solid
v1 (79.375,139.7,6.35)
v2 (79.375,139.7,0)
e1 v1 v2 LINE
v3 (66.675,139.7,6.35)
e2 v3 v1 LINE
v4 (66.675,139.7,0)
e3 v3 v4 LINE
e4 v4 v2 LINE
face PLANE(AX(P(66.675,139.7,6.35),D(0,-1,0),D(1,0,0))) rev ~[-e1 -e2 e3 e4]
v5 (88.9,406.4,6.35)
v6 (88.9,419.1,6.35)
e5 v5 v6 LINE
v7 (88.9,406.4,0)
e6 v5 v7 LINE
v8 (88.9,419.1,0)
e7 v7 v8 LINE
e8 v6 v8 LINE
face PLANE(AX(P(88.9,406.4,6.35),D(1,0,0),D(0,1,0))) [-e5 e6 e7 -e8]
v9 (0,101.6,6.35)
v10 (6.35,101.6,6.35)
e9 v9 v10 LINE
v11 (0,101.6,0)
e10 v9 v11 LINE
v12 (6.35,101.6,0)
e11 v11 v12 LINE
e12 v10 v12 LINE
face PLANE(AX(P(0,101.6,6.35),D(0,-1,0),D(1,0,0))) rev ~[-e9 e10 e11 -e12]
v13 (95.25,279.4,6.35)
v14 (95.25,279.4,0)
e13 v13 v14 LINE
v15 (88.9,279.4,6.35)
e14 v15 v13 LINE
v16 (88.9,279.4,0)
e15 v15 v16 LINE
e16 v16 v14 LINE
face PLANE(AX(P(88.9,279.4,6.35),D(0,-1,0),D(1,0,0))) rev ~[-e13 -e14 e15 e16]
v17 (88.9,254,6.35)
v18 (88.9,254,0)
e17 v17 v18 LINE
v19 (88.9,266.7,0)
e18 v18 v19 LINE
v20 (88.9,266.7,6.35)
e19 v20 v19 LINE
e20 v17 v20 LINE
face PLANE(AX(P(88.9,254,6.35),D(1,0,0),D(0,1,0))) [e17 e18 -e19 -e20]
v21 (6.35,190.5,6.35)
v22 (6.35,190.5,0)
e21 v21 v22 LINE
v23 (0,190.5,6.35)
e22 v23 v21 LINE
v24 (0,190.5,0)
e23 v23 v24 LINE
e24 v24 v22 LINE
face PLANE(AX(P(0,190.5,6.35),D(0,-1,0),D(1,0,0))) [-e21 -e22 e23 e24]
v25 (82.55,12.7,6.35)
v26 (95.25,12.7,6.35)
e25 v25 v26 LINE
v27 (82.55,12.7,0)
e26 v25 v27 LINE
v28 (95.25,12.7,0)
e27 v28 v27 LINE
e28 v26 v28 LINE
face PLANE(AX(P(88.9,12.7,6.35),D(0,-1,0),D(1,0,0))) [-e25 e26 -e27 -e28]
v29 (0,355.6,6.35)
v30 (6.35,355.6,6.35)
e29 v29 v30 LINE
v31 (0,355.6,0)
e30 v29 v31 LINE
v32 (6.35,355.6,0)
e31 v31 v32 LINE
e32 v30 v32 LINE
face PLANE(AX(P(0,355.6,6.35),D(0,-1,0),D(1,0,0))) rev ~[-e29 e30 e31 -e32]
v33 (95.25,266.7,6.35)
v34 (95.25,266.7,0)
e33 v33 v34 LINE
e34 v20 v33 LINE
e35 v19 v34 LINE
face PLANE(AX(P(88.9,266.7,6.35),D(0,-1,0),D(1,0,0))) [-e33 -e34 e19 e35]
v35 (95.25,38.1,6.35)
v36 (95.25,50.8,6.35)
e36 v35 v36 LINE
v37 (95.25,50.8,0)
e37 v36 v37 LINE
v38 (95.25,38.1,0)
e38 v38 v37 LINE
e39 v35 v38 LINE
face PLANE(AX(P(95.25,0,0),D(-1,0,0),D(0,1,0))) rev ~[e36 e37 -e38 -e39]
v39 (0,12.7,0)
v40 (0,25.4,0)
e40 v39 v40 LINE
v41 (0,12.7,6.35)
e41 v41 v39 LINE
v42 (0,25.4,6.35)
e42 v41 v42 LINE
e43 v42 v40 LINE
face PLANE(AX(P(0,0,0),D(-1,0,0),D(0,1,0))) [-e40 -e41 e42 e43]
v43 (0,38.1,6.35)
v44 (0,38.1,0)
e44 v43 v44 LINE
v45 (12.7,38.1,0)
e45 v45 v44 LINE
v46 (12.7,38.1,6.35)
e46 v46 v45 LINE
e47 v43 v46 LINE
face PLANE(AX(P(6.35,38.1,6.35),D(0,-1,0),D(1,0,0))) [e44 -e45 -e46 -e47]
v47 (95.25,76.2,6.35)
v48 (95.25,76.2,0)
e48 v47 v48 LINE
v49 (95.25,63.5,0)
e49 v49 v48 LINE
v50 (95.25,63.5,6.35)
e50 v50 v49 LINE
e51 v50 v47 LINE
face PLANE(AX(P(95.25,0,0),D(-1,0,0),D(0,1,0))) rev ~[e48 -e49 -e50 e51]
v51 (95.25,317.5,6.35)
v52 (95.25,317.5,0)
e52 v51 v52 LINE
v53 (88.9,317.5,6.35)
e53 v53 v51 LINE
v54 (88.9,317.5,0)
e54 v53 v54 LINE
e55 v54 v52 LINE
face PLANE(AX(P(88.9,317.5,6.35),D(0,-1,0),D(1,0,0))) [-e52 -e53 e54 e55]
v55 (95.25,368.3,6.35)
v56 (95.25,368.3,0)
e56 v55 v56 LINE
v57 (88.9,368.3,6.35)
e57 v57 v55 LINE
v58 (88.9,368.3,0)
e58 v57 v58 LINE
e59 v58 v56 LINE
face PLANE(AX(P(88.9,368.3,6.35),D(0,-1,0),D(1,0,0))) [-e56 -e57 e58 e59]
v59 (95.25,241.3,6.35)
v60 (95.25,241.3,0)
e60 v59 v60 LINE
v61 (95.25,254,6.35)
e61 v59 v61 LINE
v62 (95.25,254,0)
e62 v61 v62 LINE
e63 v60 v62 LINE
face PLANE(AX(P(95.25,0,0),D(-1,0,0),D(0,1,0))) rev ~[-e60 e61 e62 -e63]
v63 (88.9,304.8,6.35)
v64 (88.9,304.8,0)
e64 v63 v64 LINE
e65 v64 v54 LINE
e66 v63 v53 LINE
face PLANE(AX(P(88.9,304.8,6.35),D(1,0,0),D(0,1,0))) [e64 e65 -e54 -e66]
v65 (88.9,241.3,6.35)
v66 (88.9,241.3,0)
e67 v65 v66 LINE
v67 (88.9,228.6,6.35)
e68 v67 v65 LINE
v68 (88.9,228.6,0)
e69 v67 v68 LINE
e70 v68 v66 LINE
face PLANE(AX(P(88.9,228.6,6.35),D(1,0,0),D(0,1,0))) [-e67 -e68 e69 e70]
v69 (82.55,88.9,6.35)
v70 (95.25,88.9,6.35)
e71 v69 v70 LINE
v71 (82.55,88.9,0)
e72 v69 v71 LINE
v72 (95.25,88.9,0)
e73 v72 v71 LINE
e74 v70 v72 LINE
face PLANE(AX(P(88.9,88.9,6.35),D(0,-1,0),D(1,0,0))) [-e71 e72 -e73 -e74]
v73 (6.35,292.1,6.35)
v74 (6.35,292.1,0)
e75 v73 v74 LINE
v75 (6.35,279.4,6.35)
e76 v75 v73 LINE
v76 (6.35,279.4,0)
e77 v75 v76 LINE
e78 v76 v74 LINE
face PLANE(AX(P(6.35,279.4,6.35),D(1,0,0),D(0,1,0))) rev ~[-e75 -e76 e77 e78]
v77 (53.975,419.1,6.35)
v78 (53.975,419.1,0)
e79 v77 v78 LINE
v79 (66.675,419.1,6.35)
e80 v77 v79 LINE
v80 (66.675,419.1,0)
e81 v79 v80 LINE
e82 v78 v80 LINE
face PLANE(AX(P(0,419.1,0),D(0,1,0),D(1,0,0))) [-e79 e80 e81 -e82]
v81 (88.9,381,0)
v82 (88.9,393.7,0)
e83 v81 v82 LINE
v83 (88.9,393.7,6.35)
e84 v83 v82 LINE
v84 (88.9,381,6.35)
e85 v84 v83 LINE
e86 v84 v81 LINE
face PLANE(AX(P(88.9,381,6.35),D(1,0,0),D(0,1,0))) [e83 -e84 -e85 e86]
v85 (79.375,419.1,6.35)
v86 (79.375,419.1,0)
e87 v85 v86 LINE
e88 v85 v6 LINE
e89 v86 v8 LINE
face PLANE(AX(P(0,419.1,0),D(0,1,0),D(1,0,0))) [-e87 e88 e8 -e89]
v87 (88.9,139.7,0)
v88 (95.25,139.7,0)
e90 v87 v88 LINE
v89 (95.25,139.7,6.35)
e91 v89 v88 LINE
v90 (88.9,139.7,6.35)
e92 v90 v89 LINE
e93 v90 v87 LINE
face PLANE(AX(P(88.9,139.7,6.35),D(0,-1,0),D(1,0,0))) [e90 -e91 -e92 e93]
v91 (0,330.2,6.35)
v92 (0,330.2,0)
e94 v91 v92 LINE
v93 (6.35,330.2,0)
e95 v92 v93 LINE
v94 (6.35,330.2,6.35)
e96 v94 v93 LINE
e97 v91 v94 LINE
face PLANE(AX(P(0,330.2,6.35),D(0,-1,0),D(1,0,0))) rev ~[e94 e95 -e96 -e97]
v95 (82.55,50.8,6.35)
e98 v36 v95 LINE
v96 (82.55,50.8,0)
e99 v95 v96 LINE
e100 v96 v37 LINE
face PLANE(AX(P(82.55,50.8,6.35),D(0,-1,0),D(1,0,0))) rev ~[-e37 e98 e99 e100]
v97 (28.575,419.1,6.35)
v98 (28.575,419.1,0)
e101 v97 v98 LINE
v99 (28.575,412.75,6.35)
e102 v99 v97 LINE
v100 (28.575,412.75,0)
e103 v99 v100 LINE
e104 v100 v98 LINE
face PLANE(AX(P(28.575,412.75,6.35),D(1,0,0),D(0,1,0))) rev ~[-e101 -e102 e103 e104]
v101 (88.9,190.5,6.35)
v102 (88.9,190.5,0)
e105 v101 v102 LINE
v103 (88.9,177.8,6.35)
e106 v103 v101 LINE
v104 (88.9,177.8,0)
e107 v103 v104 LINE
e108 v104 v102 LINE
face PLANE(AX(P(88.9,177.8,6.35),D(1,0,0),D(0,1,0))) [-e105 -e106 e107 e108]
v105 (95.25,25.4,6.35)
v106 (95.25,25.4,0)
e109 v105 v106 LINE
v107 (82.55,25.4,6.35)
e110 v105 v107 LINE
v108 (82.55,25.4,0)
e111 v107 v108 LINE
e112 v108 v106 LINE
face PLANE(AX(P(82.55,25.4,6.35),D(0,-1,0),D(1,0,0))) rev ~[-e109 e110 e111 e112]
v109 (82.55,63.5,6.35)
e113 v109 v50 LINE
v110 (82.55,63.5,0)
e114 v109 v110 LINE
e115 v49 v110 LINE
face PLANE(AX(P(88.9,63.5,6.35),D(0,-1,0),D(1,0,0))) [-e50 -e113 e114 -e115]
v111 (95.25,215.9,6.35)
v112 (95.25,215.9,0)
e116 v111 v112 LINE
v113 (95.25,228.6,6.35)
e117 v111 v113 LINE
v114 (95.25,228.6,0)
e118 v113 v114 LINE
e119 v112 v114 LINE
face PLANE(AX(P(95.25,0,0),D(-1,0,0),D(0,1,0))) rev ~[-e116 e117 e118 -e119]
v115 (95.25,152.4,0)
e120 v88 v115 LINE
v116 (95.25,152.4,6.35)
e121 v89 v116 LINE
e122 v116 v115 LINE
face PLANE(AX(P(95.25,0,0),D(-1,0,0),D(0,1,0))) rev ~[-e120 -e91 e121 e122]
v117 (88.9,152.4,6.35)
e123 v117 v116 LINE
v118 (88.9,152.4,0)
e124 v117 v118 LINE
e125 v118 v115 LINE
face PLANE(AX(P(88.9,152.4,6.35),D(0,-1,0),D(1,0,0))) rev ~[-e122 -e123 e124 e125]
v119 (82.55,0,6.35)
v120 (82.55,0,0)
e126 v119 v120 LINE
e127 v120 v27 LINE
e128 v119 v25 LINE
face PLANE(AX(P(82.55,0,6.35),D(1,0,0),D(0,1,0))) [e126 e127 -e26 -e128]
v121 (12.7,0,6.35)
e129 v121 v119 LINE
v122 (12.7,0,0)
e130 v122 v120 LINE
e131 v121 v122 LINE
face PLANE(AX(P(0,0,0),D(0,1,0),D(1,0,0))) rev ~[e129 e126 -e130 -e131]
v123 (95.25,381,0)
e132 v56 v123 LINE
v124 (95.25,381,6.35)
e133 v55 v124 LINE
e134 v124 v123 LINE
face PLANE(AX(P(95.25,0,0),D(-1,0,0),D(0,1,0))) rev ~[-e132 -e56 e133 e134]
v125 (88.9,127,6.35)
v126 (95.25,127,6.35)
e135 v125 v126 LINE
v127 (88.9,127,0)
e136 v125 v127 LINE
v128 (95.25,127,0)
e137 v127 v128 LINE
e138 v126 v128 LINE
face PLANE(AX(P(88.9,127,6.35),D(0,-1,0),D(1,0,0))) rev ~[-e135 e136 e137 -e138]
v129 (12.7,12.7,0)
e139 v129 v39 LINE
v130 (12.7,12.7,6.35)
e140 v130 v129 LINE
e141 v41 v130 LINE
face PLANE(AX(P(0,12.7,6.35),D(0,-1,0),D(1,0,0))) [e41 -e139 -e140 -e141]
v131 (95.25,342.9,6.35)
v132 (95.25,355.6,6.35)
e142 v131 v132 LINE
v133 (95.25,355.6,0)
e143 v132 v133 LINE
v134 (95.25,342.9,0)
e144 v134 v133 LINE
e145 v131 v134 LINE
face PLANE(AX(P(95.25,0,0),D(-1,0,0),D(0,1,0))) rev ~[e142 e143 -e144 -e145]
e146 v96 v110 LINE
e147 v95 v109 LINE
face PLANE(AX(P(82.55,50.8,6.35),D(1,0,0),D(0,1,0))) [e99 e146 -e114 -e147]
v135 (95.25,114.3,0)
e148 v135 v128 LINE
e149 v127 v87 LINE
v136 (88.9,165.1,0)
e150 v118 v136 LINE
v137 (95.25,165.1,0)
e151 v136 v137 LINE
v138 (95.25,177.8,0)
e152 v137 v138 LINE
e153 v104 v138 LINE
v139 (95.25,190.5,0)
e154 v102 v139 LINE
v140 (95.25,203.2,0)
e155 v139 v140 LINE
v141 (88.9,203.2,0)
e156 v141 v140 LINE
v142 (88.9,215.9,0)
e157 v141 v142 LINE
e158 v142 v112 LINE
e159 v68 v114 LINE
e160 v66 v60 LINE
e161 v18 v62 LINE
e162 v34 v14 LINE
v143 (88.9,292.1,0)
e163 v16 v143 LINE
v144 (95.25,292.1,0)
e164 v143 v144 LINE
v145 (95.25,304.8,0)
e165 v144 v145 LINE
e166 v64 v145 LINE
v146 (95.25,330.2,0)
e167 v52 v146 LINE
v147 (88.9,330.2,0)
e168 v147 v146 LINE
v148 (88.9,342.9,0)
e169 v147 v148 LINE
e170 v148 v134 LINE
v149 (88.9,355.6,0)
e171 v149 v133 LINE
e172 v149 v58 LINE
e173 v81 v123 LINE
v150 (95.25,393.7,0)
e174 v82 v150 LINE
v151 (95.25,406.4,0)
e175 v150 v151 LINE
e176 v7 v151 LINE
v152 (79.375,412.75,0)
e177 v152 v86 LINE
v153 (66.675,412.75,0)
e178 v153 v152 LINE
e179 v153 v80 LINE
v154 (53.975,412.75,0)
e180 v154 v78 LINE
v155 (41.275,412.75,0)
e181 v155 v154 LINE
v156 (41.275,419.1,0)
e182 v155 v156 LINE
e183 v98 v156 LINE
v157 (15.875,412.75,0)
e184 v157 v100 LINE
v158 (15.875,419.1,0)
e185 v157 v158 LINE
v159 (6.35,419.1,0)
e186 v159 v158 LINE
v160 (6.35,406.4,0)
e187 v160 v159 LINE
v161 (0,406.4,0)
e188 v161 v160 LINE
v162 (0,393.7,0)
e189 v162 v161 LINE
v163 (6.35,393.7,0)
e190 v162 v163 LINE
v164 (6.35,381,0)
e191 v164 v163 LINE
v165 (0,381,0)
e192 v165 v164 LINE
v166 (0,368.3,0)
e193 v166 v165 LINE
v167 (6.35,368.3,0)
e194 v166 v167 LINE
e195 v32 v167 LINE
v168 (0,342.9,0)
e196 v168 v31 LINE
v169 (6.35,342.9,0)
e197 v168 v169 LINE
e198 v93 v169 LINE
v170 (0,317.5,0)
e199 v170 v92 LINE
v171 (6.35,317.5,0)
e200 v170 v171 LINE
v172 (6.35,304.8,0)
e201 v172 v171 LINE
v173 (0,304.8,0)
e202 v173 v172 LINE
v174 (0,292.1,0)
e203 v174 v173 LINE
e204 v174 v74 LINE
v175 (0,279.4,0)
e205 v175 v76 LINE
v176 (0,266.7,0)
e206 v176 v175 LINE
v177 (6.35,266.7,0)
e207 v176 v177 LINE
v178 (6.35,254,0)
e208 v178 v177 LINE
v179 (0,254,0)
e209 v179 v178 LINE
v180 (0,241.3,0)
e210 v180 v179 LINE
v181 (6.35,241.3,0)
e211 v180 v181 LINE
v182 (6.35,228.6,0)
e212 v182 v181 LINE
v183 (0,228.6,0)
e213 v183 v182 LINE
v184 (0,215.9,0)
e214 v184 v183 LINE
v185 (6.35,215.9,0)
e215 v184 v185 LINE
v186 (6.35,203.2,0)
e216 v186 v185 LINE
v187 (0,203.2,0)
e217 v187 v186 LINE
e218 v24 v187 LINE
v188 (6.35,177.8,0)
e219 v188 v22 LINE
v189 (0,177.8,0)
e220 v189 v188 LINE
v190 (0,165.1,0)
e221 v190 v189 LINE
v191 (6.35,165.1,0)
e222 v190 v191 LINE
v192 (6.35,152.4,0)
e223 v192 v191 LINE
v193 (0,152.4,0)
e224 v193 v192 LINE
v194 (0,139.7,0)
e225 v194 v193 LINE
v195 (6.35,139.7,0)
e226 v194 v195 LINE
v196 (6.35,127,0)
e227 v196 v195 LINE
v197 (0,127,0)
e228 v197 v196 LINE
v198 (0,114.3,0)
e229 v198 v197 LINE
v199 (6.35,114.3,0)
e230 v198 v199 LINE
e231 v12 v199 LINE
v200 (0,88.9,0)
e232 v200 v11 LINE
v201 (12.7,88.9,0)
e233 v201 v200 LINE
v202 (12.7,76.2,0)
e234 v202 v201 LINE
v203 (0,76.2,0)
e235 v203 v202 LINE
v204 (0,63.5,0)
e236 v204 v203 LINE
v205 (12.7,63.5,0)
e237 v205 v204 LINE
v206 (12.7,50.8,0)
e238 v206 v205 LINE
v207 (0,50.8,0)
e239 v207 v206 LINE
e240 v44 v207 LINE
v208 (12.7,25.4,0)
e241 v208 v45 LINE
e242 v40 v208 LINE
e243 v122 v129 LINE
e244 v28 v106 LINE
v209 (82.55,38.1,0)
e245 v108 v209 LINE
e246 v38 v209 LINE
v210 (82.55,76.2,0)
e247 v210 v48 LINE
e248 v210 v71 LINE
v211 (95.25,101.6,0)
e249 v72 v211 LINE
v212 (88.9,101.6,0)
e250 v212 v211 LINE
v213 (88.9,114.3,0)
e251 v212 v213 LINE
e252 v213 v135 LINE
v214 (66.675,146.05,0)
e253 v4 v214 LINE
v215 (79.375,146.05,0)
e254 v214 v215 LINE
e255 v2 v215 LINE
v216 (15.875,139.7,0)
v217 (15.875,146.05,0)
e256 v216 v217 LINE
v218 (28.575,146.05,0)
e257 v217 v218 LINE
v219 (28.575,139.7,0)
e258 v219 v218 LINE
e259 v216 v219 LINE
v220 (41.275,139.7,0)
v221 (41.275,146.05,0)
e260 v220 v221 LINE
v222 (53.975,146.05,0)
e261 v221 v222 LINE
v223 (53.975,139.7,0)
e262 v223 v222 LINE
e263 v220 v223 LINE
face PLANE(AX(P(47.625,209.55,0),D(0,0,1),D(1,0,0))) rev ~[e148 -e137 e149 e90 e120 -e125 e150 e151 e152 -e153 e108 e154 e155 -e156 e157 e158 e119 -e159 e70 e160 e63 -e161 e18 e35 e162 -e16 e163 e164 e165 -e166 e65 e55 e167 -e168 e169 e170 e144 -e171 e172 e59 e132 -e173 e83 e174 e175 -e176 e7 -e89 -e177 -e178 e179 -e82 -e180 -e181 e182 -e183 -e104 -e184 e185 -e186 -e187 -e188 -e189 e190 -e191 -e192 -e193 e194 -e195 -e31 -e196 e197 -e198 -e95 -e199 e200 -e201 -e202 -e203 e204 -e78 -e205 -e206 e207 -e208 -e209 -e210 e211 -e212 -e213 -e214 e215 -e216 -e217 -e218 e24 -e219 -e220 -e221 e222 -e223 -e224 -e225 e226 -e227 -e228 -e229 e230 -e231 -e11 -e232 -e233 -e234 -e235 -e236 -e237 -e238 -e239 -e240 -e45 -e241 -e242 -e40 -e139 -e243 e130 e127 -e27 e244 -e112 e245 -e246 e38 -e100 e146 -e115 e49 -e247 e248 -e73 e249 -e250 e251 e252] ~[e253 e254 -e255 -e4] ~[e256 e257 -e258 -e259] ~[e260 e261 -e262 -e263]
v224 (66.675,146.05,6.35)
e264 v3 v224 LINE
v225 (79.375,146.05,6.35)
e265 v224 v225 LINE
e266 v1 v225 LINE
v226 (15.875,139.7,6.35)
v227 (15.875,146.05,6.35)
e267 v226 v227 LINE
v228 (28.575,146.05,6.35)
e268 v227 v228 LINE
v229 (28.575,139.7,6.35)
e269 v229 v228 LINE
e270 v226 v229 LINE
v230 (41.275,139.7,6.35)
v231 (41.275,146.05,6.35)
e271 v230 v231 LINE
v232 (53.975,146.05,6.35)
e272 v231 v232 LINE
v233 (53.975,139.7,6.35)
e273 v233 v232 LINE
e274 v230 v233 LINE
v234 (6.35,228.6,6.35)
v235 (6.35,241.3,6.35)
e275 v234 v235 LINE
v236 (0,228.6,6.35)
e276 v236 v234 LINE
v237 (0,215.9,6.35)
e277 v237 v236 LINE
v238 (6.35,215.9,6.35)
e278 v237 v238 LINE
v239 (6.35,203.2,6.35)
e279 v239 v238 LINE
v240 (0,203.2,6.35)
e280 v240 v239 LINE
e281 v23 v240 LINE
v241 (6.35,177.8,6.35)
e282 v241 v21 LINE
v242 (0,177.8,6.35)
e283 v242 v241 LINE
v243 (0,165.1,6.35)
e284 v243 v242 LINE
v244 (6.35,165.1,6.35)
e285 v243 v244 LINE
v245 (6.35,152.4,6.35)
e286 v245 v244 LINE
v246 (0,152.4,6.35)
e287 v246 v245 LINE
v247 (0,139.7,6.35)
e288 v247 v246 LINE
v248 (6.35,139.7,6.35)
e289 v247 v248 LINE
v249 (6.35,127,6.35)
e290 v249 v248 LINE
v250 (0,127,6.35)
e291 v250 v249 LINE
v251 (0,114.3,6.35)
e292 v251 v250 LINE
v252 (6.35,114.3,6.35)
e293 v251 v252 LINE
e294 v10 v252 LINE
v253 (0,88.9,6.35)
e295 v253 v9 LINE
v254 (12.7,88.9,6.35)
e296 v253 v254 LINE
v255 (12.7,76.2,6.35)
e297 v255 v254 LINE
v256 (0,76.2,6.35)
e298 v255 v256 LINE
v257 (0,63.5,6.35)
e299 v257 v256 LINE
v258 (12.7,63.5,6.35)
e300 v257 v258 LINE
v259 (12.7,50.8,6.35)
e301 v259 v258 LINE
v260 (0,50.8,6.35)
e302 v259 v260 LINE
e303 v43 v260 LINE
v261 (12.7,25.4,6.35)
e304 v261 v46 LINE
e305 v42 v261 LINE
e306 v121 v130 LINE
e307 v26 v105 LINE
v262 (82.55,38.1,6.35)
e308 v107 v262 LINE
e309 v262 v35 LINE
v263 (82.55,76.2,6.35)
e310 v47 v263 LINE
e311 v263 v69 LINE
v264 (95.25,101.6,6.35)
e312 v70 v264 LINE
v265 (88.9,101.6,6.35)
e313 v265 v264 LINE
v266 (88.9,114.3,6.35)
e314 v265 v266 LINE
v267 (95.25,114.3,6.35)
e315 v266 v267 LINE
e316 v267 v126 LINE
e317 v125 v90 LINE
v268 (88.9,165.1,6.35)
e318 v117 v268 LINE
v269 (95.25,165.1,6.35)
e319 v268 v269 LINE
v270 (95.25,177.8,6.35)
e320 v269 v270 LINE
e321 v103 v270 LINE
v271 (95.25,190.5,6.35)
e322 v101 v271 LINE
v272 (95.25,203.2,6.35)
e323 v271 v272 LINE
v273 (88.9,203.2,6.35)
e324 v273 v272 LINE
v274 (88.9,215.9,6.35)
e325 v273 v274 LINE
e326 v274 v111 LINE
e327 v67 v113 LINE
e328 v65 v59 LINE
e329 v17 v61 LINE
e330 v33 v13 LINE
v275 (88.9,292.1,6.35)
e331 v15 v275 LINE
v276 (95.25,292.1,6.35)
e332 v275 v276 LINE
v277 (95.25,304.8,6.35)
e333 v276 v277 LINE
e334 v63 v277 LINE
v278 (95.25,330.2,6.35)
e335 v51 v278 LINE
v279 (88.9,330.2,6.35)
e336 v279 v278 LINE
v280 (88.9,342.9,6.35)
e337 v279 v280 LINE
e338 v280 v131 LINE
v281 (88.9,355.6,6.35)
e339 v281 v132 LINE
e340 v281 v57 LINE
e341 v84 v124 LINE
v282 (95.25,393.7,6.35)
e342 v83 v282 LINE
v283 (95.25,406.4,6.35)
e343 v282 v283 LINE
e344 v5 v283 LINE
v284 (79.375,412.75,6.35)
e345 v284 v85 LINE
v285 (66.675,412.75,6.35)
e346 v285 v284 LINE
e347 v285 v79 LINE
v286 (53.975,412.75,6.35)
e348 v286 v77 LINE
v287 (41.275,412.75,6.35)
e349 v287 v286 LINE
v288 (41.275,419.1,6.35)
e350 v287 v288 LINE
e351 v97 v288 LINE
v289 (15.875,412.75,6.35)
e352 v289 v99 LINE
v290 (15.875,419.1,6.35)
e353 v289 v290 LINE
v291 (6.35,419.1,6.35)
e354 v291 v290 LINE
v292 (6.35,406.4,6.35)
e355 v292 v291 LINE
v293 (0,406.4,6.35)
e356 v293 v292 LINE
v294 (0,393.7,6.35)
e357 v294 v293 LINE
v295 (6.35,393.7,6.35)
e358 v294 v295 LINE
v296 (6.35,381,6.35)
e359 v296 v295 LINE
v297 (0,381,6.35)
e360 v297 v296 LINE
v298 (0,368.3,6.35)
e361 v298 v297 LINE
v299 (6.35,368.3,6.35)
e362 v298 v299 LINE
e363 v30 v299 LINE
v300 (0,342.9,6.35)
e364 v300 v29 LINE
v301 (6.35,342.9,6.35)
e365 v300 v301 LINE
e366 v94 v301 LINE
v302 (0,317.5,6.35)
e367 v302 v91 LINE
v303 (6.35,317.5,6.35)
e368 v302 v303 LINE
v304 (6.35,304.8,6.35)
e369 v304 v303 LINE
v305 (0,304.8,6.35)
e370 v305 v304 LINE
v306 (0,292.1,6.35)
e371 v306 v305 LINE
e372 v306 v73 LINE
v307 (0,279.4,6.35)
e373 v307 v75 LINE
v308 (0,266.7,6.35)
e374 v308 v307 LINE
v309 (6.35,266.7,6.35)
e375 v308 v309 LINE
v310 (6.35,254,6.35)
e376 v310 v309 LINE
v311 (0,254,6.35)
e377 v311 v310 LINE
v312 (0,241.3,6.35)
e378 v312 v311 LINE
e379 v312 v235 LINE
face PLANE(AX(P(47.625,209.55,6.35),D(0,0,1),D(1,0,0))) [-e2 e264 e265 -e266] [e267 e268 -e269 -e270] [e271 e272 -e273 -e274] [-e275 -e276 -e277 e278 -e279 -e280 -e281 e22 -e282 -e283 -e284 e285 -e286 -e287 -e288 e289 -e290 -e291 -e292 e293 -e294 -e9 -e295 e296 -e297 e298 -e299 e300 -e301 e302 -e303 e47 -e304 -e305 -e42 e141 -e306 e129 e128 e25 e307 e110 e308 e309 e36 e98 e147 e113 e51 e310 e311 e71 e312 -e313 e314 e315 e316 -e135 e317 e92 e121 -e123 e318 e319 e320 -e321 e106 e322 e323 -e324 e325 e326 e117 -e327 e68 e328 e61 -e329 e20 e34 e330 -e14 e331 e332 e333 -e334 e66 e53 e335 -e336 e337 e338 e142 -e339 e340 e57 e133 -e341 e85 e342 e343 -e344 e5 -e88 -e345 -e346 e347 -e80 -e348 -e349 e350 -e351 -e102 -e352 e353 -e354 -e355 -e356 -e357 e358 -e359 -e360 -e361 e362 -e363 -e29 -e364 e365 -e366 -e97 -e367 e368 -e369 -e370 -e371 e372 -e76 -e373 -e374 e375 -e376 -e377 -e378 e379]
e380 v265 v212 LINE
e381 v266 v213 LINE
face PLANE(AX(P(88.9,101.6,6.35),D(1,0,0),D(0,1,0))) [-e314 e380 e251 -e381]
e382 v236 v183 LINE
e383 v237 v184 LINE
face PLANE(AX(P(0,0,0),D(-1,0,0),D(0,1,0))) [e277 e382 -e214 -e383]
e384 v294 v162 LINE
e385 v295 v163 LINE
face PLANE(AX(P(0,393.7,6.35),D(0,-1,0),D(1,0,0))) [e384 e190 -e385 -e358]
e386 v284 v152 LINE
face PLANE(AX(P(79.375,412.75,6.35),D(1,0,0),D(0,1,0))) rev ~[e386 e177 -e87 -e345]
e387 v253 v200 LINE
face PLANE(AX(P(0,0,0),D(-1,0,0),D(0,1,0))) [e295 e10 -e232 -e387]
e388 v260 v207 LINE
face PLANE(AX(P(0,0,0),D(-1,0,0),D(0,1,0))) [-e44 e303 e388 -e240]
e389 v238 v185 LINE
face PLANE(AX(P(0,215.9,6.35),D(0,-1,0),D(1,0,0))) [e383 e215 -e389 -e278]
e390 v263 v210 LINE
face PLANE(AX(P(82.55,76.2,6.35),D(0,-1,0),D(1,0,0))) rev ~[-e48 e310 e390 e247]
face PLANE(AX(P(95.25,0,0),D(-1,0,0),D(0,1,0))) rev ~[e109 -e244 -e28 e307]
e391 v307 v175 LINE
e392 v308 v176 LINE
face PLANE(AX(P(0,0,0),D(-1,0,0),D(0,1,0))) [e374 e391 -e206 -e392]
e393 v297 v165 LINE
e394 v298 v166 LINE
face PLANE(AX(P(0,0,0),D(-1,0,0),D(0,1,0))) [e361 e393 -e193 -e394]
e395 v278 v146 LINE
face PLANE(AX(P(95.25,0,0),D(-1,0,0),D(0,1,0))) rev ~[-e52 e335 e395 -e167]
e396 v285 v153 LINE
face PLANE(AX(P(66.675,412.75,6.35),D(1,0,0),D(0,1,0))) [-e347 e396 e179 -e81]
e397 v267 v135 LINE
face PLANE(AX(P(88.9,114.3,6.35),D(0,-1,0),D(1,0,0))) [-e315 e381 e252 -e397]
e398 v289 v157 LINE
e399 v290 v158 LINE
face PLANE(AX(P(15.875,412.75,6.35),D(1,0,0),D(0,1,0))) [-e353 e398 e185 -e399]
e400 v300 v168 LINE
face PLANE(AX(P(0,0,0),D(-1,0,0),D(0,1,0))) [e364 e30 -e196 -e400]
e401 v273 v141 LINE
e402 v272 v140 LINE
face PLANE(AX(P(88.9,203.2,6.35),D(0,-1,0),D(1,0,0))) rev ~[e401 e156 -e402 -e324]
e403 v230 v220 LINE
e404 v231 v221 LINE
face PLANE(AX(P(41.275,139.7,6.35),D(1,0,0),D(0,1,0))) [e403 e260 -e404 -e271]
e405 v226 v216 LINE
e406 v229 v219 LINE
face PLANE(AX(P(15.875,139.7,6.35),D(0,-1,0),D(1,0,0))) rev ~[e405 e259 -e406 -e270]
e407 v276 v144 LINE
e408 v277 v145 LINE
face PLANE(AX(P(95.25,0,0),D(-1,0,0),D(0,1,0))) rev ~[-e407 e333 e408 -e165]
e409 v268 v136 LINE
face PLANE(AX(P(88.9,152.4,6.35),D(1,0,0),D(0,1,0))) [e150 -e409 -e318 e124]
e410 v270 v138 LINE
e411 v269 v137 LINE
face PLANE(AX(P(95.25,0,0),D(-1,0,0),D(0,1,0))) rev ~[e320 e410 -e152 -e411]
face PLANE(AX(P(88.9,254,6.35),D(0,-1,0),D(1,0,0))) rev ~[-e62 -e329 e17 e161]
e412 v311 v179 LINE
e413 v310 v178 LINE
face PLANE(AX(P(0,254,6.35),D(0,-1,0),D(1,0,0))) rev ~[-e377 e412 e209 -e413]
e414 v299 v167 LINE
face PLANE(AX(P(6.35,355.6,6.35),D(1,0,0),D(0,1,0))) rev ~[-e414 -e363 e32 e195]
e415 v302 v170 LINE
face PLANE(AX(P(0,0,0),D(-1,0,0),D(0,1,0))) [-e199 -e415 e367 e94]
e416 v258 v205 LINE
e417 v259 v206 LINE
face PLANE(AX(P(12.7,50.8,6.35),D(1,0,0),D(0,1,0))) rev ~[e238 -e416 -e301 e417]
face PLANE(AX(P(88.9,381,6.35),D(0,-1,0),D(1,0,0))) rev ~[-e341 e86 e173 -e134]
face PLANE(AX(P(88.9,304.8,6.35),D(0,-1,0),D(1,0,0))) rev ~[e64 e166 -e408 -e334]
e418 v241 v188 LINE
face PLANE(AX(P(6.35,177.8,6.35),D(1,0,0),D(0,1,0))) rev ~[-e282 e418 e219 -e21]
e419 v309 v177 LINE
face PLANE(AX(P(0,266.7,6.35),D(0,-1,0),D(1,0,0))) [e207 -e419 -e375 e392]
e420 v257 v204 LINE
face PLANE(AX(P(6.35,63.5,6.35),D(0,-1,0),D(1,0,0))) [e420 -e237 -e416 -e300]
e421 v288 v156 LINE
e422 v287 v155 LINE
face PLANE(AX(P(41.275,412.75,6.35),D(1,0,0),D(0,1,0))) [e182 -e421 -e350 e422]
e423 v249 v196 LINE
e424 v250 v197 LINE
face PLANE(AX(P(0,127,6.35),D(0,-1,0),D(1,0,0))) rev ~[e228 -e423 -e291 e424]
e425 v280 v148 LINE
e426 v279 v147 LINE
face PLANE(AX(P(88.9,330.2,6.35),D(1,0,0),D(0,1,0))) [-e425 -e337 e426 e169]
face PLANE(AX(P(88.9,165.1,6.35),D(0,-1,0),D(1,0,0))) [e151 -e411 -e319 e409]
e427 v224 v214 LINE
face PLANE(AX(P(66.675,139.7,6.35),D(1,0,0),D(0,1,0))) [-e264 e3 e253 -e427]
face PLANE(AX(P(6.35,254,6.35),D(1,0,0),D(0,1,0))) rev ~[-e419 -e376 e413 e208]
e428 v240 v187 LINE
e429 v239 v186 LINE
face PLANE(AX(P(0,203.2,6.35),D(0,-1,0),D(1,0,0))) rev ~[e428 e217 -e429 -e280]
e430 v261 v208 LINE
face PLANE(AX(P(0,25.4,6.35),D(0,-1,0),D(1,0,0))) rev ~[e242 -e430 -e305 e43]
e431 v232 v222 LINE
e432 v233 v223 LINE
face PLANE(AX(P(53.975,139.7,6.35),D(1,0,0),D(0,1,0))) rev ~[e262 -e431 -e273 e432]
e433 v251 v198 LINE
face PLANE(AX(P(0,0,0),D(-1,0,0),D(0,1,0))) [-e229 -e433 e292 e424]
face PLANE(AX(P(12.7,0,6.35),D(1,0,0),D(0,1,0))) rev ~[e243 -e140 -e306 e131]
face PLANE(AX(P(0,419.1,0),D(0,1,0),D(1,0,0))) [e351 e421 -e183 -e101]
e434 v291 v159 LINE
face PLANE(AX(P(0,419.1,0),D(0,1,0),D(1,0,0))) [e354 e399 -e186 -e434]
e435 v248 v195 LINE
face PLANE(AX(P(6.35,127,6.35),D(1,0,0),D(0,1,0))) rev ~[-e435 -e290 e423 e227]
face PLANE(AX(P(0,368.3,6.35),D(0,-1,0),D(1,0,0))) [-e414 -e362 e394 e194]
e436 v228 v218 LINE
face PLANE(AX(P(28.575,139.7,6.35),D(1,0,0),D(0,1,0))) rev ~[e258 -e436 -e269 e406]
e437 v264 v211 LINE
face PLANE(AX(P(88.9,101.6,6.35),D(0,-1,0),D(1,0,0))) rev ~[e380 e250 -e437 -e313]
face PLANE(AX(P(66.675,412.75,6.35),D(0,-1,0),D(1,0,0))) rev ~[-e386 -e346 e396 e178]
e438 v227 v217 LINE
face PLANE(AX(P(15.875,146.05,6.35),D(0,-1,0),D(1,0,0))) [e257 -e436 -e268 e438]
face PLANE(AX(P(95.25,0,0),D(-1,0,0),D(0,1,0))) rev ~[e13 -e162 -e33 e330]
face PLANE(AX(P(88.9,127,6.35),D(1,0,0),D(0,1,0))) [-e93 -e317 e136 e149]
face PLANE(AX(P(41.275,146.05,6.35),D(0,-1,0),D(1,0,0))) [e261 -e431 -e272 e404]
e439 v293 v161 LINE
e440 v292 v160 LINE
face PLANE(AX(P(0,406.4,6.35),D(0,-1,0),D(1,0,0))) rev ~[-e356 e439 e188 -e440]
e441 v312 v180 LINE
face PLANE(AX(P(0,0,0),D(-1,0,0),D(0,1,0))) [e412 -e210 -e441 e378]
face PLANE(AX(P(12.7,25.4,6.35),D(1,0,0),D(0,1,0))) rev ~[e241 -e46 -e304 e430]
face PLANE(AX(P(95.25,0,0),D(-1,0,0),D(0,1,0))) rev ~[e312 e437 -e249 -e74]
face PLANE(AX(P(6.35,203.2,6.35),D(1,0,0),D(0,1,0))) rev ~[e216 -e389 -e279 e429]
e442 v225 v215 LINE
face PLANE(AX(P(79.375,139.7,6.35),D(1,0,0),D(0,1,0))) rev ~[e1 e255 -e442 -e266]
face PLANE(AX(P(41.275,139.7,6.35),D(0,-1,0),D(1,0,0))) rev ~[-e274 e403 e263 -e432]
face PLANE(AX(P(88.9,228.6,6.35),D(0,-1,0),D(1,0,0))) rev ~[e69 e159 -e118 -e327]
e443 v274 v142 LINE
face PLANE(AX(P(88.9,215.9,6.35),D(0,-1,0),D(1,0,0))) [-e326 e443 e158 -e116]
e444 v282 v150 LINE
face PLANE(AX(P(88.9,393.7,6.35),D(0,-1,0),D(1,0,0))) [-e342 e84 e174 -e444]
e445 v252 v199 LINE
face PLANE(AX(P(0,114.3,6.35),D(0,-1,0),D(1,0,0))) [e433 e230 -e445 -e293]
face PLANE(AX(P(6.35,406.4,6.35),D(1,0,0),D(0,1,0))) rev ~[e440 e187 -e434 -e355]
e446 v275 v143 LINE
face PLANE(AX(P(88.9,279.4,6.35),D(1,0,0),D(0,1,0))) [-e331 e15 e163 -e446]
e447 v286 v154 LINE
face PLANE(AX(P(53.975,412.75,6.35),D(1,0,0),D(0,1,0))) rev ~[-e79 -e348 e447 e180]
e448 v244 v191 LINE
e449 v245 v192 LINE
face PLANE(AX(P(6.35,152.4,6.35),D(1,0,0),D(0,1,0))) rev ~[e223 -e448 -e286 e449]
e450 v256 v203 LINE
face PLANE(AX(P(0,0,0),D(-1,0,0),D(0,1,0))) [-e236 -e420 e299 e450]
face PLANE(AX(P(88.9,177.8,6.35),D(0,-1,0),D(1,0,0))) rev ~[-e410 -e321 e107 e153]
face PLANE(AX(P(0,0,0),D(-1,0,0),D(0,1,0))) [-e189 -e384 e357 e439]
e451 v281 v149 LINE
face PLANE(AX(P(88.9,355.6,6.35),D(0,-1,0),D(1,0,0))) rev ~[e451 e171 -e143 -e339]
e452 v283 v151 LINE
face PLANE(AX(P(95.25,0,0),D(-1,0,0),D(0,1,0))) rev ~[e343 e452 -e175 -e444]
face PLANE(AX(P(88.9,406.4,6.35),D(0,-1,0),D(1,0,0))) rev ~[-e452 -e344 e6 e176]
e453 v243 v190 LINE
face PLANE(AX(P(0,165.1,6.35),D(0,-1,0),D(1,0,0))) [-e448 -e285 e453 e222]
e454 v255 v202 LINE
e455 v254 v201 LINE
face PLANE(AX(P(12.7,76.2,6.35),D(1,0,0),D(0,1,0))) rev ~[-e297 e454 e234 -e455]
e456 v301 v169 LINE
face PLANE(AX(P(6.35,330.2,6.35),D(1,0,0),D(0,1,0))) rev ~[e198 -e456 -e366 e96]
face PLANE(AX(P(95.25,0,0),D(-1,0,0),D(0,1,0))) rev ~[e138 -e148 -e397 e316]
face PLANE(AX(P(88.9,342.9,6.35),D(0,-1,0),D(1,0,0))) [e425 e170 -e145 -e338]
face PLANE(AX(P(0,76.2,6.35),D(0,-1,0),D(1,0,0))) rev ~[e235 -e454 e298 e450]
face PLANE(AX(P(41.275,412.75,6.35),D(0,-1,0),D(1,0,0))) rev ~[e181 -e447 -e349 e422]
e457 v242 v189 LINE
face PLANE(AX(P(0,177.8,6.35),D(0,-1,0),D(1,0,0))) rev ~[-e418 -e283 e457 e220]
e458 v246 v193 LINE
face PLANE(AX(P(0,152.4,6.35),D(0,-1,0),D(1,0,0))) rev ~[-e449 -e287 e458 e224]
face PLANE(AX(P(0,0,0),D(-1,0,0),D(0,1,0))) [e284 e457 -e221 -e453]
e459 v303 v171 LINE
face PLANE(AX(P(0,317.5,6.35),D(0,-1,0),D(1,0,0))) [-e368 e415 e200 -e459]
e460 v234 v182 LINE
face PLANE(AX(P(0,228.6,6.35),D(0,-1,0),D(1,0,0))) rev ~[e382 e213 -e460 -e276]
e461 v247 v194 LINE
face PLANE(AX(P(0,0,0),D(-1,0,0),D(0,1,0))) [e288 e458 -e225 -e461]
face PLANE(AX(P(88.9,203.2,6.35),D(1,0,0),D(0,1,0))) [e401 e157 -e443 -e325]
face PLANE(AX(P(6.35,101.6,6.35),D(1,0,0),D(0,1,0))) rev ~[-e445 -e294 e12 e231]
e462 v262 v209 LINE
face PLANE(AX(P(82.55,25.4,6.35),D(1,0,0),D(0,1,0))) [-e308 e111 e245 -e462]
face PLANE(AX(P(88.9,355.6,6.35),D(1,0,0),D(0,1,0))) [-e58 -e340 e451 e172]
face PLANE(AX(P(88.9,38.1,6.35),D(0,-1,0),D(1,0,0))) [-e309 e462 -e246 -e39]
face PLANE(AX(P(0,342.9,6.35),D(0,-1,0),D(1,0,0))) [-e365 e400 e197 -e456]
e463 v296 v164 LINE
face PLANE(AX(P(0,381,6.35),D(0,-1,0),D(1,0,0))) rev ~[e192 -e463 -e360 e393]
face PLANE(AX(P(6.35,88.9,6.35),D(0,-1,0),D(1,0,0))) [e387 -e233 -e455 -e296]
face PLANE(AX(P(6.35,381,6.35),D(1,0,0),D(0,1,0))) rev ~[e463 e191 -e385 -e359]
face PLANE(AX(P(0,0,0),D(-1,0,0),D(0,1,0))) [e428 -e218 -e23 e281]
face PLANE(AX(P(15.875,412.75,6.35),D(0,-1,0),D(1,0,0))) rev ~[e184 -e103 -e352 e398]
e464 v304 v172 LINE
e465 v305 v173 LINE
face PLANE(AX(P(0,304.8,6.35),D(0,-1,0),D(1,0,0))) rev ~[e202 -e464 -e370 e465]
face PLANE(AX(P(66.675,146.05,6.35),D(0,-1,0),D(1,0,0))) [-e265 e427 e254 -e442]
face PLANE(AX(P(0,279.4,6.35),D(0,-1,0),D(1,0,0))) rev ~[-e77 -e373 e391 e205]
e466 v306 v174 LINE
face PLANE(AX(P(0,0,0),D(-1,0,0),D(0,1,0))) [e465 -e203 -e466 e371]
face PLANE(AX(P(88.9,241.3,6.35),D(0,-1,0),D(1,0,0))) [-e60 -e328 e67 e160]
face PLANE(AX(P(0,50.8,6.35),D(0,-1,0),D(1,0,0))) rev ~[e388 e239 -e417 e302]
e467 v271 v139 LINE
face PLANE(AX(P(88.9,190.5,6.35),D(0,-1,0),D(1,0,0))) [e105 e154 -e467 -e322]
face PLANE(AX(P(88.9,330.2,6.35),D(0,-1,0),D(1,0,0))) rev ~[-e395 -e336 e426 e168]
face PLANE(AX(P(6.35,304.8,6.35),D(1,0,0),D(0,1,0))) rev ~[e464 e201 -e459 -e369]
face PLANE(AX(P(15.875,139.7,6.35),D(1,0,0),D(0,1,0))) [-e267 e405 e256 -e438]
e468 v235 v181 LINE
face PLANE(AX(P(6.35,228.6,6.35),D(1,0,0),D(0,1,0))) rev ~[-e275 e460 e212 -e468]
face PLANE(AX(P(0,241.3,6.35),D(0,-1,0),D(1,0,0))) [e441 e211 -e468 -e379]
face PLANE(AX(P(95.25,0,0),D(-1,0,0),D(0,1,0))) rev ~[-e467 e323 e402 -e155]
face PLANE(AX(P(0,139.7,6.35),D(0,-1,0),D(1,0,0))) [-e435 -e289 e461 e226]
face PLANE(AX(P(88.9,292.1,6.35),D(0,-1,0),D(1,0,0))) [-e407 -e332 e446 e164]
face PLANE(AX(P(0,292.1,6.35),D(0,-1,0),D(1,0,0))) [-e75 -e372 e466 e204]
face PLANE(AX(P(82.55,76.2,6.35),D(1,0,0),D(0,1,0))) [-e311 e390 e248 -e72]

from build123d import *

# Parameters (mm, degrees)
SKETCH2_W           = 95.25
SKETCH2_H           = 419.1
BOSS_EXTRUDE1_DEPTH = 6.35
SKETCH3_W           = 6.35
SKETCH3_H           = 12.7
CUT_EXTRUDE1_DEPTH  = 7.35
LPATTERN1_COUNT     = 17
LPATTERN1_PITCH     = 25.4
SKETCH4_W           = 12.7
SKETCH4_H           = 6.35
CUT_EXTRUDE2_DEPTH  = 7.35
SKETCH5_W           = 6.35
SKETCH5_H           = 12.7
CUT_EXTRUDE3_DEPTH  = 7.35
LPATTERN2_COUNT     = 4
LPATTERN2_PITCH     = 25.4
SKETCH6_W           = 12.7
SKETCH6_H           = 6.35
CUT_EXTRUDE4_DEPTH  = 7.35
LPATTERN3_COUNT     = 2
LPATTERN3_PITCH     = 25.4
LPATTERN3_COL_COUNT = 2
LPATTERN3_COL_PITCH = 25.4


with BuildPart() as part:
    # Sketch2 → Boss-Extrude1 (new body)
    with BuildSketch(Plane.XY):
        with Locations((47.625, 209.55)):
            Rectangle(SKETCH2_W, SKETCH2_H)
    extrude(amount=BOSS_EXTRUDE1_DEPTH)

    # Sketch3 → Cut-Extrude1 (cut, through all)
    with BuildSketch(Plane.XY.offset(6.35)):
        with Locations((3.175, 6.35)):
            Rectangle(SKETCH3_W, SKETCH3_H)
        with Locations((92.075, 6.35)):
            Rectangle(SKETCH3_W, SKETCH3_H)
    cut_extrude1 = extrude(amount=-CUT_EXTRUDE1_DEPTH, mode=Mode.SUBTRACT)

    # LPattern1: Cut-Extrude1 ×17
    with Locations(*[(0, i * LPATTERN1_PITCH, 0) for i in range(1, LPATTERN1_COUNT)]):
        add(cut_extrude1, mode=Mode.SUBTRACT)

    # Sketch4 → Cut-Extrude2 (cut, through all)
    with BuildSketch(Plane.XY.offset(6.35)):
        with Locations((47.625, 415.925)):
            Rectangle(SKETCH4_W, SKETCH4_H)
        with Locations((22.225, 415.925)):
            Rectangle(SKETCH4_W, SKETCH4_H)
        with Locations((73.025, 415.925)):
            Rectangle(SKETCH4_W, SKETCH4_H)
    extrude(amount=-CUT_EXTRUDE2_DEPTH, mode=Mode.SUBTRACT)

    # Sketch5 → Cut-Extrude3 (cut, through all)
    with BuildSketch(Plane.XY.offset(6.35)):
        with Locations((9.525, 6.35)):
            Rectangle(SKETCH5_W, SKETCH5_H)
        with Locations((85.725, 6.35)):
            Rectangle(SKETCH5_W, SKETCH5_H)
    cut_extrude3 = extrude(amount=-CUT_EXTRUDE3_DEPTH, mode=Mode.SUBTRACT)

    # LPattern2: Cut-Extrude3 ×4
    with Locations(*[(0, i * LPATTERN2_PITCH, 0) for i in range(1, LPATTERN2_COUNT)]):
        add(cut_extrude3, mode=Mode.SUBTRACT)

    # Sketch6 → Cut-Extrude4 (cut, through all)
    with BuildSketch(Plane.XY.offset(6.35)):
        with Locations((47.625, 142.875)):
            Rectangle(SKETCH6_W, SKETCH6_H)
    cut_extrude4 = extrude(amount=-CUT_EXTRUDE4_DEPTH, mode=Mode.SUBTRACT)

    # LPattern3: Cut-Extrude4 ×2
    with Locations(*[(i * LPATTERN3_PITCH, 0, 0) for i in range(1, LPATTERN3_COUNT)]):
        add(cut_extrude4, mode=Mode.SUBTRACT)

    # LPattern3 col: Cut-Extrude4 ×2
    with Locations(*[(-i * LPATTERN3_COL_PITCH, 0, 0) for i in range(1, LPATTERN3_COL_COUNT)]):
        add(cut_extrude4, mode=Mode.SUBTRACT)


solid = part.part
